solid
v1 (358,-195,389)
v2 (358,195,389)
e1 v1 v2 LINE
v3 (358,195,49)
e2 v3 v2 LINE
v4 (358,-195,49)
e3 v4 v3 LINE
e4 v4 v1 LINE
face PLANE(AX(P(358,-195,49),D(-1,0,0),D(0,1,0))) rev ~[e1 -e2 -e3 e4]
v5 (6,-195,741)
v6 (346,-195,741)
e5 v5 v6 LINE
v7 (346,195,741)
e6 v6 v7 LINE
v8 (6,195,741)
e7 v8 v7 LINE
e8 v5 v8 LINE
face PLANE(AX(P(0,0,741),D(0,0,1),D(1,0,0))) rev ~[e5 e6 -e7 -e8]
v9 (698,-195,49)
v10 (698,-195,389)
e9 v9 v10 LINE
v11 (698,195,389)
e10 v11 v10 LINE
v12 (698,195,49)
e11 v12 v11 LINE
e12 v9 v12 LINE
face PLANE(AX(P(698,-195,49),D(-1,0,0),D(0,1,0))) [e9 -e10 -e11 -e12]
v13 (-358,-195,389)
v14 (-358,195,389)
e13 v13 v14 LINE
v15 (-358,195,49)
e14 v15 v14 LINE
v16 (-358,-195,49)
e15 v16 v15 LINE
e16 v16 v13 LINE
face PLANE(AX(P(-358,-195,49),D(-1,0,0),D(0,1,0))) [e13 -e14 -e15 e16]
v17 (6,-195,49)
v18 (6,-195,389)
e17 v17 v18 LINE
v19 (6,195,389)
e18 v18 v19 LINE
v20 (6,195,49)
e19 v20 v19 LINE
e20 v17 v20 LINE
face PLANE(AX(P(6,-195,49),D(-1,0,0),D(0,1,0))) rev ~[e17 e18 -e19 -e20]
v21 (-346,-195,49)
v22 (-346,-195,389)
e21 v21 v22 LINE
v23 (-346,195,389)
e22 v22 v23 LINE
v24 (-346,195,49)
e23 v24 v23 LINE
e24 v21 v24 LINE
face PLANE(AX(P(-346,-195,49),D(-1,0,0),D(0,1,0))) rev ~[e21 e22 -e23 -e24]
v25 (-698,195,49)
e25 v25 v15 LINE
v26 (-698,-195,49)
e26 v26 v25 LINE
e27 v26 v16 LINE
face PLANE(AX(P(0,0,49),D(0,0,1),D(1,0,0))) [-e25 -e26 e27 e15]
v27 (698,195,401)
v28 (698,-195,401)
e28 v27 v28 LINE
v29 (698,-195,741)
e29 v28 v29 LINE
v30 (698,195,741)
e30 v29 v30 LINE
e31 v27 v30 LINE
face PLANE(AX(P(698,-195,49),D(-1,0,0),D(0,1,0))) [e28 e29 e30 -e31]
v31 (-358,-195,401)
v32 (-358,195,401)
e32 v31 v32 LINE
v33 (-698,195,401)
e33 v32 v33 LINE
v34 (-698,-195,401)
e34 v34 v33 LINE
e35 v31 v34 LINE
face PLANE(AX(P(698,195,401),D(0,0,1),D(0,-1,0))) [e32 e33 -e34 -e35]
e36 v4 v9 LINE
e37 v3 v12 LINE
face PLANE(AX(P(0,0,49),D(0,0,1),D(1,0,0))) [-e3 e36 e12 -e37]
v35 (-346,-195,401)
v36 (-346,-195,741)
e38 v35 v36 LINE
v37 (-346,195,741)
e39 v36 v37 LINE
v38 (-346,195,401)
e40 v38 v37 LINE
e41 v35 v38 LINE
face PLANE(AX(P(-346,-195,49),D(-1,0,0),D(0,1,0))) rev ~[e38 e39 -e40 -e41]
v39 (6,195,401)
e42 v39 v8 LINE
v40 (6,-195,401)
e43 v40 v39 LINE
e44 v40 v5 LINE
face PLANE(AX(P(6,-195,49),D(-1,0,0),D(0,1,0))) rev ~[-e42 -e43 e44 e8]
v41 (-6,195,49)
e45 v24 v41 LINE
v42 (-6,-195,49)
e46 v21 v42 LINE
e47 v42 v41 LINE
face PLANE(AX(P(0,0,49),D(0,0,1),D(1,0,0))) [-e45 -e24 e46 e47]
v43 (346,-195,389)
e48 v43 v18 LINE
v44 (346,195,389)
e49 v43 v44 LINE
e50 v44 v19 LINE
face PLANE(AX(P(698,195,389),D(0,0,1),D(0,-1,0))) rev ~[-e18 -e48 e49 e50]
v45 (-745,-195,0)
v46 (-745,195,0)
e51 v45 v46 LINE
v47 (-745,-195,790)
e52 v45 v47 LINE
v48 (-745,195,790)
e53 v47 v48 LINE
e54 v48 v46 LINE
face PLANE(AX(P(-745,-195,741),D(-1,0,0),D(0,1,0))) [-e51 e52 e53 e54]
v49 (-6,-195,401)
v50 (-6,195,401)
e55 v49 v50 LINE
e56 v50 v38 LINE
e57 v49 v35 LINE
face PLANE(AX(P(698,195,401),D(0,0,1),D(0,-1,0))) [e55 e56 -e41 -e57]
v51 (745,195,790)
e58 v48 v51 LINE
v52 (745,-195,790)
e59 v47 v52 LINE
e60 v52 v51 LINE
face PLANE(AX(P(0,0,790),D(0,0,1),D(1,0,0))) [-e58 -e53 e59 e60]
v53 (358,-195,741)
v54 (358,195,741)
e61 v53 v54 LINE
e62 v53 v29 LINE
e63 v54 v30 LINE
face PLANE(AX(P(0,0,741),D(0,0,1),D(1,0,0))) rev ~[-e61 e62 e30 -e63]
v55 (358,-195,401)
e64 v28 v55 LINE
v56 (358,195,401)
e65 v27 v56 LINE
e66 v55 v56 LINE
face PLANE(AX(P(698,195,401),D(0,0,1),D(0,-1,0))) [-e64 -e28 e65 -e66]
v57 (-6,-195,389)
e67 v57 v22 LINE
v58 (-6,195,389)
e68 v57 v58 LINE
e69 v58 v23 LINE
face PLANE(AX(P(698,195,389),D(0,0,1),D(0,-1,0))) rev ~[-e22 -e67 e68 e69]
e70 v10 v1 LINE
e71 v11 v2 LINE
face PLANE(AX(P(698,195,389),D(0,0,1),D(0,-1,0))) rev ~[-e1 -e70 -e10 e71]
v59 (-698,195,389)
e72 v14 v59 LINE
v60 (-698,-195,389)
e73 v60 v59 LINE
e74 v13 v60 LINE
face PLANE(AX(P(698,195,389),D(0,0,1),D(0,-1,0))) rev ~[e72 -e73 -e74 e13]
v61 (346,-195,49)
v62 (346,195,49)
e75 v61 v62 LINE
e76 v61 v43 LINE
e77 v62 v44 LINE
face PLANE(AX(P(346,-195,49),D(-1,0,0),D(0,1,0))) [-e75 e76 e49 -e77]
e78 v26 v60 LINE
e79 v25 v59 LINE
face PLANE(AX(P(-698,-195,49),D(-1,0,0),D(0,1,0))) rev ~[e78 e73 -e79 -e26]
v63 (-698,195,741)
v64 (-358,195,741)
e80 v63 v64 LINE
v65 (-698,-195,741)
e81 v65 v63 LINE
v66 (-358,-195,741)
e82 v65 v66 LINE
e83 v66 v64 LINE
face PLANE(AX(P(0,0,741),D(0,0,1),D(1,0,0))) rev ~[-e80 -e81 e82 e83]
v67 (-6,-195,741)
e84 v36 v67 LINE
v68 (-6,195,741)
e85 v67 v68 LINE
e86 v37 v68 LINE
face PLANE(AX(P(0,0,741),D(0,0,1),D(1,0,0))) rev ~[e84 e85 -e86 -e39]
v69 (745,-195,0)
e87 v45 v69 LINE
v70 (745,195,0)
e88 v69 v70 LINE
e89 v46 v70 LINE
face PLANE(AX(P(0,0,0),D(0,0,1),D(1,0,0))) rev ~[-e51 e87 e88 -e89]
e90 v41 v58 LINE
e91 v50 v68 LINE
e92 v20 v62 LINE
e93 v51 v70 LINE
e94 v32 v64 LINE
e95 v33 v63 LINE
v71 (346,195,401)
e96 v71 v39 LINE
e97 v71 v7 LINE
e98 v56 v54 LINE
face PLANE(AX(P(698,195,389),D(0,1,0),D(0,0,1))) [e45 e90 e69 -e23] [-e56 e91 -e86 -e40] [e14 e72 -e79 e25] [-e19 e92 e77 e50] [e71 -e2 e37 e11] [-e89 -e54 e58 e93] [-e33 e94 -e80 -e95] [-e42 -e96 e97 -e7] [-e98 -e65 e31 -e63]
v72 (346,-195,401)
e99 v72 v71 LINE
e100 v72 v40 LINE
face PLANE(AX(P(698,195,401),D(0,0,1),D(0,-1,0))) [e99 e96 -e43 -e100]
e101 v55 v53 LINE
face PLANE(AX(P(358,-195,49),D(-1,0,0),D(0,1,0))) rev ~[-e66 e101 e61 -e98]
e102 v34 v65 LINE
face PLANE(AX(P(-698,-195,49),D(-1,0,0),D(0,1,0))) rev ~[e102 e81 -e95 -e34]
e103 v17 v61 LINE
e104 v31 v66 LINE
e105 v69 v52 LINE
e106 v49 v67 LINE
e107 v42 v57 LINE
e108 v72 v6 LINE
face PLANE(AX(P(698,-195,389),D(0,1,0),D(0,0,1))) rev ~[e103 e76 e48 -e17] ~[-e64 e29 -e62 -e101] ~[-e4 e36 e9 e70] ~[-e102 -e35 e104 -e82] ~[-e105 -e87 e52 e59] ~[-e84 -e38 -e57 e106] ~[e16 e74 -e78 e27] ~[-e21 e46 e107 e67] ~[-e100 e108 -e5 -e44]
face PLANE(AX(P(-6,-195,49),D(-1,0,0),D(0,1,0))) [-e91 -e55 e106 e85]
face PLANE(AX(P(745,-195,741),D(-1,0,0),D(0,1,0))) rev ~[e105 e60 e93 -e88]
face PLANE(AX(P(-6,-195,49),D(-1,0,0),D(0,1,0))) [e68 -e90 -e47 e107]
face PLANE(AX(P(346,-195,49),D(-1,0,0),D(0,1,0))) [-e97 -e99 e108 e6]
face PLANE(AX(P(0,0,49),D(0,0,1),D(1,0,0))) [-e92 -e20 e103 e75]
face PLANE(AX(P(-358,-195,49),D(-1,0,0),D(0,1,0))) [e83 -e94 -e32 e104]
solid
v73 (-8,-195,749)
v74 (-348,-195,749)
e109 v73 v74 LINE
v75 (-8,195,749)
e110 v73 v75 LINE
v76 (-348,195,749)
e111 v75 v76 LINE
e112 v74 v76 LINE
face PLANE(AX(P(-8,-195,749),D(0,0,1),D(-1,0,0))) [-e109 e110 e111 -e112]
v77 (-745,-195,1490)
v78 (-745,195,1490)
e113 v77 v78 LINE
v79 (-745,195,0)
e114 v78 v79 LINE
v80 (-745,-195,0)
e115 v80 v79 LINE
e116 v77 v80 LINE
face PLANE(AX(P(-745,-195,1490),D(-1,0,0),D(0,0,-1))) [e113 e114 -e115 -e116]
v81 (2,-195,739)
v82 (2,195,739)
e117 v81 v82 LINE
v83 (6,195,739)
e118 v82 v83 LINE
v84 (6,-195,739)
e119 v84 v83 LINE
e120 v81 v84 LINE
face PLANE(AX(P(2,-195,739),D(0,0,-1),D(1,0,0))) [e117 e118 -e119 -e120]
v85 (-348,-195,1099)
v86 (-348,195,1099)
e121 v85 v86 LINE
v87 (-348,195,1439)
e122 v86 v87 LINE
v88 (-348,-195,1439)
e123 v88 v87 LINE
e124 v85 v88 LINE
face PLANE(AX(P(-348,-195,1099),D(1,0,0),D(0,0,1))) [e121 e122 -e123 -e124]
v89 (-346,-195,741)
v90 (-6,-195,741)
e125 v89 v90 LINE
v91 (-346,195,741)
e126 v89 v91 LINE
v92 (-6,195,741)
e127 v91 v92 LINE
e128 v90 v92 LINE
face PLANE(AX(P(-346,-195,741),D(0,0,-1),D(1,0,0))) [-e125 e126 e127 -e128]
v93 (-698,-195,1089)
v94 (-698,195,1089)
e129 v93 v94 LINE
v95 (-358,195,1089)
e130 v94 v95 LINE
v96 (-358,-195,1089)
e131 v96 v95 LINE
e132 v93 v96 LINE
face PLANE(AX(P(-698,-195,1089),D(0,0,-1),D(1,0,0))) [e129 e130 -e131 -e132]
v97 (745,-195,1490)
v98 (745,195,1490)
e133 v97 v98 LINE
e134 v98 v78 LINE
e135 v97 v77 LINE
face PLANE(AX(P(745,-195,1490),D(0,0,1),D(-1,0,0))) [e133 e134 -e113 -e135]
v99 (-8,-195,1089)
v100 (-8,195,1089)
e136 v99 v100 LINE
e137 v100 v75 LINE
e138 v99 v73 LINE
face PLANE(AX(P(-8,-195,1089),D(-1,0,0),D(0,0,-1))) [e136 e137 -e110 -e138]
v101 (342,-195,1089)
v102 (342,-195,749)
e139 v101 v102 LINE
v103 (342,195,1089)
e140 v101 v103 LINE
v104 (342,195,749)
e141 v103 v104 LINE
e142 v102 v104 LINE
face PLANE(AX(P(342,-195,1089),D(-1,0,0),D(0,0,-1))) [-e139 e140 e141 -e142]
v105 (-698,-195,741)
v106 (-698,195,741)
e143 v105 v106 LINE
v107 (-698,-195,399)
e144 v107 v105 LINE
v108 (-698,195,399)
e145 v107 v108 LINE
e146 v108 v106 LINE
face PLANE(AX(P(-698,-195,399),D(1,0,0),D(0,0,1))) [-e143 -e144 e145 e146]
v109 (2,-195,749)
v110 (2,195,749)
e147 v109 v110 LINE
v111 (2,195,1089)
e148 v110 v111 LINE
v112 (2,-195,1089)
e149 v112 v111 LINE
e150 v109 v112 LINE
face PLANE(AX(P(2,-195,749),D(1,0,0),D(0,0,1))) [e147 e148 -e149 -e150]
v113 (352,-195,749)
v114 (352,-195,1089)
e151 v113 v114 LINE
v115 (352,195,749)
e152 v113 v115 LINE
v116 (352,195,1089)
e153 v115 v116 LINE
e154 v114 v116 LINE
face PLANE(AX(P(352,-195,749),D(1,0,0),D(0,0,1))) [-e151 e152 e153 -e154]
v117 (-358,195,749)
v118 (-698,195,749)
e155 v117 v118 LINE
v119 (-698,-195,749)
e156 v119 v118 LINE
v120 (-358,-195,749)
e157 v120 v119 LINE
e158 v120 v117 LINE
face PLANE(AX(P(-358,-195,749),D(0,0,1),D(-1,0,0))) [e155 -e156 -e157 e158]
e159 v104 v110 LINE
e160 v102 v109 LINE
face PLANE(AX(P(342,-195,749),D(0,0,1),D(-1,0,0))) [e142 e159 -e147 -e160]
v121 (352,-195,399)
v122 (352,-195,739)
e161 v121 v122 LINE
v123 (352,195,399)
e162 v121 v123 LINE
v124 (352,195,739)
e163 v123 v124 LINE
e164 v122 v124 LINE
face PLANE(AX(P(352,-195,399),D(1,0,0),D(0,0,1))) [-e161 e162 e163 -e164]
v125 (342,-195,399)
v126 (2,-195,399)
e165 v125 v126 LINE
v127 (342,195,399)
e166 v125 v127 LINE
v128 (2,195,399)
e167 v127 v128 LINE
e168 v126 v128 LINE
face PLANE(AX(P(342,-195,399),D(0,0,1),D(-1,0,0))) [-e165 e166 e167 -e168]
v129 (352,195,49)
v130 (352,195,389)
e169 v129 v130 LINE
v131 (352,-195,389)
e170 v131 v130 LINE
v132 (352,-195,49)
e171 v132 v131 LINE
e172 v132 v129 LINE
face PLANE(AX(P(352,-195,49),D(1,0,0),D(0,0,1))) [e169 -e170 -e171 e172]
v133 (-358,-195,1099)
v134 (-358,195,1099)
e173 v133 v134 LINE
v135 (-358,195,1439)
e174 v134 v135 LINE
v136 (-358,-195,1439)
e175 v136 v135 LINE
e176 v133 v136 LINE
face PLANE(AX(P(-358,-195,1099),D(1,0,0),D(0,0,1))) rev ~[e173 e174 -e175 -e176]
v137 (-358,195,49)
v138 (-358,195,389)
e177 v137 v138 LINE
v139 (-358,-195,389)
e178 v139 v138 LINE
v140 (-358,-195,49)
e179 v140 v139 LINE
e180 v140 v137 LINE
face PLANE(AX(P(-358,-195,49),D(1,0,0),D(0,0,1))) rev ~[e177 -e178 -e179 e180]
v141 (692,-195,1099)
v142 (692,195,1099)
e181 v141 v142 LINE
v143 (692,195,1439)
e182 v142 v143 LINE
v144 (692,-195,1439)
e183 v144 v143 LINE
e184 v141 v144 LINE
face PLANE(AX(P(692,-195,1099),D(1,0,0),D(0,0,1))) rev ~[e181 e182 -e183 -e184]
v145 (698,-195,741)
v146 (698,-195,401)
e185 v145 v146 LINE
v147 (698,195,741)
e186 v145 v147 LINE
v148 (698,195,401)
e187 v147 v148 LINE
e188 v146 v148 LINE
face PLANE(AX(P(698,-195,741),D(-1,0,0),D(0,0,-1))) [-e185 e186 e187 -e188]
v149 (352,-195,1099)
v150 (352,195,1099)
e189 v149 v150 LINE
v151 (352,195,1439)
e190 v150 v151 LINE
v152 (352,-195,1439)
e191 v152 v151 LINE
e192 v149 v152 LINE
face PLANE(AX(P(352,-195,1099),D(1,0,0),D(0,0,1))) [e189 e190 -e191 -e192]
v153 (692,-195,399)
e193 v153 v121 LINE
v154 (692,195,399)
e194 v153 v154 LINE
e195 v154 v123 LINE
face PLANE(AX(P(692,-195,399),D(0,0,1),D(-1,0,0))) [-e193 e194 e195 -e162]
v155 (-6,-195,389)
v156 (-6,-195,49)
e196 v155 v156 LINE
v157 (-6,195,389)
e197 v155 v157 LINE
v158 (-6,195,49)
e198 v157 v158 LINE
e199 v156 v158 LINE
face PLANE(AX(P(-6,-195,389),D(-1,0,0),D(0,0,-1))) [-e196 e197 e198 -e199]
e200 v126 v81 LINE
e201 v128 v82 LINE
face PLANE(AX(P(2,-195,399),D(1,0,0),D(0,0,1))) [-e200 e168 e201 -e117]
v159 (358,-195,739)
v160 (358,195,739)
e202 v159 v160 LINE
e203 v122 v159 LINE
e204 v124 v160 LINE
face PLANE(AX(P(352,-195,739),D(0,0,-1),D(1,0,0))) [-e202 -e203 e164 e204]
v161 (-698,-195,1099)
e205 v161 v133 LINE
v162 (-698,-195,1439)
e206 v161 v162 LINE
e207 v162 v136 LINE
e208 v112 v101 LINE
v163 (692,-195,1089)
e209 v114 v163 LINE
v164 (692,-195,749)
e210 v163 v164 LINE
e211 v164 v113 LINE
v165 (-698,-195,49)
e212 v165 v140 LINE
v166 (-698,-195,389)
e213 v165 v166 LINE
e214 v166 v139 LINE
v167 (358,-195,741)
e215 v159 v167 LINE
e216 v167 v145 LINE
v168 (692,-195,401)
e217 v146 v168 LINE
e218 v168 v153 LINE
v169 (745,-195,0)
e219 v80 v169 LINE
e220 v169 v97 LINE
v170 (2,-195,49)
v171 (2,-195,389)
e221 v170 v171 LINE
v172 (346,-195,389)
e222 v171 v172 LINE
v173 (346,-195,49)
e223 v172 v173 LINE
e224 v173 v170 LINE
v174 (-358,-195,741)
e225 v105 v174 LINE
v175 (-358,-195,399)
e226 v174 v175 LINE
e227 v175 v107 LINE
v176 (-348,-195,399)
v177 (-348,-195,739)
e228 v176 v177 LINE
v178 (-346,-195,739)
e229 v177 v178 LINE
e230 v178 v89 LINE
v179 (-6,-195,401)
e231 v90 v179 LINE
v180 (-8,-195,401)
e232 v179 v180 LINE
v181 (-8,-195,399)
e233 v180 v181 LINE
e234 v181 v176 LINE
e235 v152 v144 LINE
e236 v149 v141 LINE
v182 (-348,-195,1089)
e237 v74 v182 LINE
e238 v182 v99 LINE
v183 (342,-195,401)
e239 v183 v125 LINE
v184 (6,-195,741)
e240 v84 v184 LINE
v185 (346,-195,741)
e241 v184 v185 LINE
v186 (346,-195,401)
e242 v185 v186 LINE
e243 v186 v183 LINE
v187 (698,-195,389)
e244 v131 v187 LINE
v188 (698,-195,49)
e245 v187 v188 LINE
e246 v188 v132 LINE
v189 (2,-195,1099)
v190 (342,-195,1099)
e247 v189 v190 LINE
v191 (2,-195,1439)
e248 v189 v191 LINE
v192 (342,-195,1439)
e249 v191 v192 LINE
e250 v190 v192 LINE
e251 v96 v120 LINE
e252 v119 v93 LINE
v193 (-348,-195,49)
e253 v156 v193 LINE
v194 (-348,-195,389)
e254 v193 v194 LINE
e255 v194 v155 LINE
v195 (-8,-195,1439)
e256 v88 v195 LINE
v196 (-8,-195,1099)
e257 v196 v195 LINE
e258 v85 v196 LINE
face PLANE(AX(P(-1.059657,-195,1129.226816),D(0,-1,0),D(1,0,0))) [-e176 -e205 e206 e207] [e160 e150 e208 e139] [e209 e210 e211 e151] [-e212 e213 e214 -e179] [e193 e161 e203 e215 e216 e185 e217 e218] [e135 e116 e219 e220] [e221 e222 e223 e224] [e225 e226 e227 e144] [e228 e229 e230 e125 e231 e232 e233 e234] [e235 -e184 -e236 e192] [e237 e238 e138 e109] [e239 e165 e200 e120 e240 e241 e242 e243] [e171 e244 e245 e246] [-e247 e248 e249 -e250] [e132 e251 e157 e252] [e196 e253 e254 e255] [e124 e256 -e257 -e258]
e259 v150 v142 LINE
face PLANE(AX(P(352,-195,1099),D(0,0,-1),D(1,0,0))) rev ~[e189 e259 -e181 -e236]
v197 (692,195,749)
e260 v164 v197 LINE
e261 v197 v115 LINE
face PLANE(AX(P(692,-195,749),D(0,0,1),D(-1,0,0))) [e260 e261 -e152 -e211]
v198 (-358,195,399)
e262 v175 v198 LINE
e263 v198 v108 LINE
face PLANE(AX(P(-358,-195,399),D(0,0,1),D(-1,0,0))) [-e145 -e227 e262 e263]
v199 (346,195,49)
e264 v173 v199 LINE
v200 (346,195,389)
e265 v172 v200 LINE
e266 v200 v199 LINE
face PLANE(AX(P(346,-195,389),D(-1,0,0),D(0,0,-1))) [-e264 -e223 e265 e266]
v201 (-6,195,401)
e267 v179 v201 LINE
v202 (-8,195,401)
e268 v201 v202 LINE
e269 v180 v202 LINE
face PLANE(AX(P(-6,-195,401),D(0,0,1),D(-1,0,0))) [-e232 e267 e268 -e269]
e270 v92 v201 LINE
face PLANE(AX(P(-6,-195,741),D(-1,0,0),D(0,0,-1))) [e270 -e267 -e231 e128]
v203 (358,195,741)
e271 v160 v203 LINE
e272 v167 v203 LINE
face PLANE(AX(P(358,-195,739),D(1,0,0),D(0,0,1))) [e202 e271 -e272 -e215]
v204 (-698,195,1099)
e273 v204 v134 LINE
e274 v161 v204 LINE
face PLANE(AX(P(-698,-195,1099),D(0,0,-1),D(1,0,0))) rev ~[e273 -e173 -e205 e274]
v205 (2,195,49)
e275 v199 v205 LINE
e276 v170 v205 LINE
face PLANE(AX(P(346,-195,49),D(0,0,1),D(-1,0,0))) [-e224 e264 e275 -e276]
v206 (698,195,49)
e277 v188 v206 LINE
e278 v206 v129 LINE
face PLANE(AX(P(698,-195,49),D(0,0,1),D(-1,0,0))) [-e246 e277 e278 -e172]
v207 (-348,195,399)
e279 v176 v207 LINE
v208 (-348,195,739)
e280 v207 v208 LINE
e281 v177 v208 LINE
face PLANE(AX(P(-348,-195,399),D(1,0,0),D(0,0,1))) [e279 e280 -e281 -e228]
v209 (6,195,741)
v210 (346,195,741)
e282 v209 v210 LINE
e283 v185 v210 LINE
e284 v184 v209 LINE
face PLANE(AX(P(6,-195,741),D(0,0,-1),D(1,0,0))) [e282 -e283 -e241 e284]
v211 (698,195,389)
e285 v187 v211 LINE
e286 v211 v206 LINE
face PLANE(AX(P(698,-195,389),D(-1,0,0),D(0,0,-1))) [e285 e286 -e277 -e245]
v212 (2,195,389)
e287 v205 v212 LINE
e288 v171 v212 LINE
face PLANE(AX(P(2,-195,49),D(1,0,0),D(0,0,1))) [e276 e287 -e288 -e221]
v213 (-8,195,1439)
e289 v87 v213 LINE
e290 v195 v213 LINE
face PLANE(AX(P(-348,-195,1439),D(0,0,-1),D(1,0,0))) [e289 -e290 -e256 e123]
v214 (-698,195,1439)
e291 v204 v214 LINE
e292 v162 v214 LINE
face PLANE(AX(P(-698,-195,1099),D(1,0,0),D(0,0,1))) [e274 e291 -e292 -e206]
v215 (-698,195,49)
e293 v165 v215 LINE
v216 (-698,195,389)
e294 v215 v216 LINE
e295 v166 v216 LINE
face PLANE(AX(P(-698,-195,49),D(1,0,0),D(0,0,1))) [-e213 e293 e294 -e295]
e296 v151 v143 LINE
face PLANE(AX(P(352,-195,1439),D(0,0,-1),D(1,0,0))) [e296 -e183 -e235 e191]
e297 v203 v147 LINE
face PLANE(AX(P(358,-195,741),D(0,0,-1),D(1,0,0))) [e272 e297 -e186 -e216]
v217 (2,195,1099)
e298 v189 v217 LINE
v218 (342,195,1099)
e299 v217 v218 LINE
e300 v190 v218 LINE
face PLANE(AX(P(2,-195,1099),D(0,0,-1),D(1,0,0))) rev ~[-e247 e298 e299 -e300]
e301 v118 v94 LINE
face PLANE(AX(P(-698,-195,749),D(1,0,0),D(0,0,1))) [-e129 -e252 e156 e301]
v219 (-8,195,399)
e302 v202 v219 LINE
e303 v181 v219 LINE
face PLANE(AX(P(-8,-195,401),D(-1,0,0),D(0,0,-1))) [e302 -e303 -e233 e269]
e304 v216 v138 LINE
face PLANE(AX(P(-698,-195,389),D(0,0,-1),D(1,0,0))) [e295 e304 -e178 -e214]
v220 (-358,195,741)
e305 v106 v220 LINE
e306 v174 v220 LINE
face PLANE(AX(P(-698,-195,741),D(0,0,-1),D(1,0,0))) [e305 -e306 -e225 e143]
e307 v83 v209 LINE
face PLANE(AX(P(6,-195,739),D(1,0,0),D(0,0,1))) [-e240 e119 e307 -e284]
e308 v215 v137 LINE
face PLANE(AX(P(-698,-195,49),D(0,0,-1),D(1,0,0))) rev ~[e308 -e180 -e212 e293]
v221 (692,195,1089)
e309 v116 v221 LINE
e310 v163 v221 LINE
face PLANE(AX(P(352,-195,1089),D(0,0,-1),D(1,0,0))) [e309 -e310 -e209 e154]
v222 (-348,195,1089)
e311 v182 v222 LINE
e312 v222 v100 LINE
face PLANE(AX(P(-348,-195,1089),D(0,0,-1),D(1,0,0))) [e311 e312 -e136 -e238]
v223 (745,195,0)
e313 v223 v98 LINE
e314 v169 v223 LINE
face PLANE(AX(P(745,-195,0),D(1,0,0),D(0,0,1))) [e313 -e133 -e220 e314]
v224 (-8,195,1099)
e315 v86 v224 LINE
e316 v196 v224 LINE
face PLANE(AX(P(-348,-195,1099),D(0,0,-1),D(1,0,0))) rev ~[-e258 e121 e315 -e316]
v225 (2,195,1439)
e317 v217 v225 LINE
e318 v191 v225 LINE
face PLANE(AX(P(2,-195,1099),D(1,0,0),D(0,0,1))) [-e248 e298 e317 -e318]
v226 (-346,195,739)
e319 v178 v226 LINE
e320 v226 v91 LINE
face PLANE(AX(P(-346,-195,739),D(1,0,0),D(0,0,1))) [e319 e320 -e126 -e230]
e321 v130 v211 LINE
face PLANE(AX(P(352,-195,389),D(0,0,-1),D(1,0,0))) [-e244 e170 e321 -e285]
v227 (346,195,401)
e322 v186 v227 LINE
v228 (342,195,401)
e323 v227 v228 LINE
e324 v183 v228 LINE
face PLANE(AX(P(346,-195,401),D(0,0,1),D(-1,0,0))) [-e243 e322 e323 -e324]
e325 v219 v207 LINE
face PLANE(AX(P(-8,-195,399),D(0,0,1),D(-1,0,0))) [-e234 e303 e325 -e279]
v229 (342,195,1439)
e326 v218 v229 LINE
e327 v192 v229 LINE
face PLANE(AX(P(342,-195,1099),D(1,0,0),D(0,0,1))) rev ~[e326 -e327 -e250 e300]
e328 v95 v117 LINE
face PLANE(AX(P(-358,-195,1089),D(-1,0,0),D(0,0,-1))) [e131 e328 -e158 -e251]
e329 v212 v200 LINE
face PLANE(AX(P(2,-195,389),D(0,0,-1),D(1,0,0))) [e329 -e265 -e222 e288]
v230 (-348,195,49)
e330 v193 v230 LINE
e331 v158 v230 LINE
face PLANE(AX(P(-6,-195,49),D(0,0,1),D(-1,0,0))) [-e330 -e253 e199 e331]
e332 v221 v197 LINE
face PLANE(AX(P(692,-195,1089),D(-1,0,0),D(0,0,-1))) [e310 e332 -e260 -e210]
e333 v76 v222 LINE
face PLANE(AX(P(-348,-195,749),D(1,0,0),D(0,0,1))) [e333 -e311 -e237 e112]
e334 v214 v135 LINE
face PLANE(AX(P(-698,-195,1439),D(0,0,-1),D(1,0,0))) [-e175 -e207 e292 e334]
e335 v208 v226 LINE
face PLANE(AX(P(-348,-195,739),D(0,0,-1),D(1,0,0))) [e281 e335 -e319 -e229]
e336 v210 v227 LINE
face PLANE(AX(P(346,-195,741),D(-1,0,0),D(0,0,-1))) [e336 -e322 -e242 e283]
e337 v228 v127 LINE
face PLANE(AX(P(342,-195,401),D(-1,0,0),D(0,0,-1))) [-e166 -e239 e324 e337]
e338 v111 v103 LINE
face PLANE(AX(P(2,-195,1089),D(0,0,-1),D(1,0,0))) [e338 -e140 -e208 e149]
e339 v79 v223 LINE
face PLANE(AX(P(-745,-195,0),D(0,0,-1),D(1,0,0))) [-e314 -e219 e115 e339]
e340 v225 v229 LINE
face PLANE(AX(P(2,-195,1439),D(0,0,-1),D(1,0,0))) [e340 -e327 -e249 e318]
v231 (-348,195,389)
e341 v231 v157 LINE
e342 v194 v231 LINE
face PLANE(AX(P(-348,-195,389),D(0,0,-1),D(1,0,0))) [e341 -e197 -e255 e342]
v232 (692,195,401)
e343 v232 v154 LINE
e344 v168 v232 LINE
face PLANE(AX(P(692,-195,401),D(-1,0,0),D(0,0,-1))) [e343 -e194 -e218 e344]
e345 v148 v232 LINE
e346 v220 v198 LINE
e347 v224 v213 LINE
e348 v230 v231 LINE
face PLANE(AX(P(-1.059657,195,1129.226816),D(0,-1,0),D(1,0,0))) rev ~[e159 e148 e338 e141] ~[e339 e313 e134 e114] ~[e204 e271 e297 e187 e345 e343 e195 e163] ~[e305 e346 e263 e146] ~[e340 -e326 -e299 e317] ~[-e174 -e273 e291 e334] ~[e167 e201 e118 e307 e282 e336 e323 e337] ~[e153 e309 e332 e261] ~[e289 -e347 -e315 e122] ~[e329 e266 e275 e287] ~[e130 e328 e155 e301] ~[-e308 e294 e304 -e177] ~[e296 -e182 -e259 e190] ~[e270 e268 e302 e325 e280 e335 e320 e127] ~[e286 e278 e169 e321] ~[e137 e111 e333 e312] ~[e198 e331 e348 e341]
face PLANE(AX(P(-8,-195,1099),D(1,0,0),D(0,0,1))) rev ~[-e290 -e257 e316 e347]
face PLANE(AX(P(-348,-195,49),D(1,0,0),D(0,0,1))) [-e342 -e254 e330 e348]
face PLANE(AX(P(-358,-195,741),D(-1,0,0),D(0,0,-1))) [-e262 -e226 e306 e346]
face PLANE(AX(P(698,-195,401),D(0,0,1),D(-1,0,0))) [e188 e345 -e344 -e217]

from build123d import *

# Parameters (mm, degrees)
F0_W     = 1490
F0_H     = 390
F1_DEPTH = 49
F2_W     = 47
F2_H     = 390
F2_W_2   = 12
F3_DEPTH = 692
F4_W     = 1490
F4_H     = 390
F5_DEPTH = 49
F6_W     = 390
F6_H     = 12
F7_DEPTH = 1410
F8_W     = 340
F8_H     = 340
F9_DEPTH = 390


with BuildPart() as f1:
    # F0 (on Top) → F1 (new body)
    with BuildSketch(Plane.XY):
        Rectangle(F0_W, F0_H)
    extrude(amount=F1_DEPTH)

    # F2 (on face) → F3 (join)
    with BuildSketch(Plane.XY.offset(49)):
        with Locations((-721.5, 0)):
            Rectangle(F2_W, F2_H)
        with Locations((721.5, 0)):
            Rectangle(F2_W, F2_H)
        with Locations((352, 0)):
            Rectangle(F2_W_2, F2_H)
        Rectangle(F2_W_2, F2_H)
        with Locations((-352, 0)):
            Rectangle(F2_W_2, F2_H)
    extrude(amount=F3_DEPTH)

    # F4 (on face) → F5 (join)
    with BuildSketch(Plane.XY.offset(741)):
        Rectangle(F4_W, F4_H)
    extrude(amount=F5_DEPTH)

    # F6 (on face) → F7 (join)
    with BuildSketch(Plane(origin=(698, 0, 0), x_dir=(0, -1, 0), z_dir=(-1, 0, 0))):
        with Locations((0, 395)):
            Rectangle(F6_W, F6_H)
    extrude(amount=F7_DEPTH)


with BuildPart() as f9:
    # F8 (on face) → F9 (new body)
    with BuildSketch(Plane.XZ.offset(195)):
        Polygon((-745, 1490), (-745, 790), (-698, 790), (-698, 1089), (-358, 1089), (-358, 790), (-348, 790), (-348, 1089), (-8, 1089), (-8, 790), (2, 790), (2, 1089), (342, 1089), (342, 790), (352, 790), (352, 1089), (692, 1089), (692, 790), (745, 790), (745, 1490), align=None)
        with Locations((-528, 1269)):
            Rectangle(F8_W, F8_H, mode=Mode.SUBTRACT)
        with Locations((-178, 1269)):
            Rectangle(F8_W, F8_H, mode=Mode.SUBTRACT)
        with Locations((172, 1269)):
            Rectangle(F8_W, F8_H, mode=Mode.SUBTRACT)
        with Locations((522, 1269)):
            Rectangle(F8_W, F8_H, mode=Mode.SUBTRACT)
        Polygon((-745, 790), (-745, 0), (745, 0), (745, 790), (692, 790), (692, 749), (352, 749), (352, 790), (342, 790), (342, 749), (2, 749), (2, 790), (-8, 790), (-8, 749), (-348, 749), (-348, 790), (-358, 790), (-358, 749), (-698, 749), (-698, 790), align=None)
        with Locations((-528, 219)):
            Rectangle(F8_W, F8_H, mode=Mode.SUBTRACT)
        Polygon((-346, 49), (-348, 49), (-348, 389), (-346, 389), (-8, 389), (-6, 389), (-6, 49), (-8, 49), align=None, mode=Mode.SUBTRACT)
        Polygon((-358, 399), (-698, 399), (-698, 401), (-698, 739), (-698, 741), (-358, 741), (-358, 739), (-358, 401), align=None, mode=Mode.SUBTRACT)
        Polygon((-8, 399), (-348, 399), (-348, 739), (-346, 739), (-346, 741), (-6, 741), (-6, 401), (-8, 401), align=None, mode=Mode.SUBTRACT)
        Polygon((6, 49), (2, 49), (2, 389), (6, 389), (342, 389), (346, 389), (346, 49), (342, 49), align=None, mode=Mode.SUBTRACT)
        Polygon((358, 49), (352, 49), (352, 389), (358, 389), (692, 389), (698, 389), (698, 49), (692, 49), align=None, mode=Mode.SUBTRACT)
        Polygon((342, 399), (2, 399), (2, 739), (6, 739), (6, 741), (346, 741), (346, 401), (342, 401), align=None, mode=Mode.SUBTRACT)
        Polygon((692, 399), (352, 399), (352, 739), (358, 739), (358, 741), (698, 741), (698, 401), (692, 401), align=None, mode=Mode.SUBTRACT)
    extrude(amount=-F9_DEPTH)


solid = Compound([f1.part, f9.part])
